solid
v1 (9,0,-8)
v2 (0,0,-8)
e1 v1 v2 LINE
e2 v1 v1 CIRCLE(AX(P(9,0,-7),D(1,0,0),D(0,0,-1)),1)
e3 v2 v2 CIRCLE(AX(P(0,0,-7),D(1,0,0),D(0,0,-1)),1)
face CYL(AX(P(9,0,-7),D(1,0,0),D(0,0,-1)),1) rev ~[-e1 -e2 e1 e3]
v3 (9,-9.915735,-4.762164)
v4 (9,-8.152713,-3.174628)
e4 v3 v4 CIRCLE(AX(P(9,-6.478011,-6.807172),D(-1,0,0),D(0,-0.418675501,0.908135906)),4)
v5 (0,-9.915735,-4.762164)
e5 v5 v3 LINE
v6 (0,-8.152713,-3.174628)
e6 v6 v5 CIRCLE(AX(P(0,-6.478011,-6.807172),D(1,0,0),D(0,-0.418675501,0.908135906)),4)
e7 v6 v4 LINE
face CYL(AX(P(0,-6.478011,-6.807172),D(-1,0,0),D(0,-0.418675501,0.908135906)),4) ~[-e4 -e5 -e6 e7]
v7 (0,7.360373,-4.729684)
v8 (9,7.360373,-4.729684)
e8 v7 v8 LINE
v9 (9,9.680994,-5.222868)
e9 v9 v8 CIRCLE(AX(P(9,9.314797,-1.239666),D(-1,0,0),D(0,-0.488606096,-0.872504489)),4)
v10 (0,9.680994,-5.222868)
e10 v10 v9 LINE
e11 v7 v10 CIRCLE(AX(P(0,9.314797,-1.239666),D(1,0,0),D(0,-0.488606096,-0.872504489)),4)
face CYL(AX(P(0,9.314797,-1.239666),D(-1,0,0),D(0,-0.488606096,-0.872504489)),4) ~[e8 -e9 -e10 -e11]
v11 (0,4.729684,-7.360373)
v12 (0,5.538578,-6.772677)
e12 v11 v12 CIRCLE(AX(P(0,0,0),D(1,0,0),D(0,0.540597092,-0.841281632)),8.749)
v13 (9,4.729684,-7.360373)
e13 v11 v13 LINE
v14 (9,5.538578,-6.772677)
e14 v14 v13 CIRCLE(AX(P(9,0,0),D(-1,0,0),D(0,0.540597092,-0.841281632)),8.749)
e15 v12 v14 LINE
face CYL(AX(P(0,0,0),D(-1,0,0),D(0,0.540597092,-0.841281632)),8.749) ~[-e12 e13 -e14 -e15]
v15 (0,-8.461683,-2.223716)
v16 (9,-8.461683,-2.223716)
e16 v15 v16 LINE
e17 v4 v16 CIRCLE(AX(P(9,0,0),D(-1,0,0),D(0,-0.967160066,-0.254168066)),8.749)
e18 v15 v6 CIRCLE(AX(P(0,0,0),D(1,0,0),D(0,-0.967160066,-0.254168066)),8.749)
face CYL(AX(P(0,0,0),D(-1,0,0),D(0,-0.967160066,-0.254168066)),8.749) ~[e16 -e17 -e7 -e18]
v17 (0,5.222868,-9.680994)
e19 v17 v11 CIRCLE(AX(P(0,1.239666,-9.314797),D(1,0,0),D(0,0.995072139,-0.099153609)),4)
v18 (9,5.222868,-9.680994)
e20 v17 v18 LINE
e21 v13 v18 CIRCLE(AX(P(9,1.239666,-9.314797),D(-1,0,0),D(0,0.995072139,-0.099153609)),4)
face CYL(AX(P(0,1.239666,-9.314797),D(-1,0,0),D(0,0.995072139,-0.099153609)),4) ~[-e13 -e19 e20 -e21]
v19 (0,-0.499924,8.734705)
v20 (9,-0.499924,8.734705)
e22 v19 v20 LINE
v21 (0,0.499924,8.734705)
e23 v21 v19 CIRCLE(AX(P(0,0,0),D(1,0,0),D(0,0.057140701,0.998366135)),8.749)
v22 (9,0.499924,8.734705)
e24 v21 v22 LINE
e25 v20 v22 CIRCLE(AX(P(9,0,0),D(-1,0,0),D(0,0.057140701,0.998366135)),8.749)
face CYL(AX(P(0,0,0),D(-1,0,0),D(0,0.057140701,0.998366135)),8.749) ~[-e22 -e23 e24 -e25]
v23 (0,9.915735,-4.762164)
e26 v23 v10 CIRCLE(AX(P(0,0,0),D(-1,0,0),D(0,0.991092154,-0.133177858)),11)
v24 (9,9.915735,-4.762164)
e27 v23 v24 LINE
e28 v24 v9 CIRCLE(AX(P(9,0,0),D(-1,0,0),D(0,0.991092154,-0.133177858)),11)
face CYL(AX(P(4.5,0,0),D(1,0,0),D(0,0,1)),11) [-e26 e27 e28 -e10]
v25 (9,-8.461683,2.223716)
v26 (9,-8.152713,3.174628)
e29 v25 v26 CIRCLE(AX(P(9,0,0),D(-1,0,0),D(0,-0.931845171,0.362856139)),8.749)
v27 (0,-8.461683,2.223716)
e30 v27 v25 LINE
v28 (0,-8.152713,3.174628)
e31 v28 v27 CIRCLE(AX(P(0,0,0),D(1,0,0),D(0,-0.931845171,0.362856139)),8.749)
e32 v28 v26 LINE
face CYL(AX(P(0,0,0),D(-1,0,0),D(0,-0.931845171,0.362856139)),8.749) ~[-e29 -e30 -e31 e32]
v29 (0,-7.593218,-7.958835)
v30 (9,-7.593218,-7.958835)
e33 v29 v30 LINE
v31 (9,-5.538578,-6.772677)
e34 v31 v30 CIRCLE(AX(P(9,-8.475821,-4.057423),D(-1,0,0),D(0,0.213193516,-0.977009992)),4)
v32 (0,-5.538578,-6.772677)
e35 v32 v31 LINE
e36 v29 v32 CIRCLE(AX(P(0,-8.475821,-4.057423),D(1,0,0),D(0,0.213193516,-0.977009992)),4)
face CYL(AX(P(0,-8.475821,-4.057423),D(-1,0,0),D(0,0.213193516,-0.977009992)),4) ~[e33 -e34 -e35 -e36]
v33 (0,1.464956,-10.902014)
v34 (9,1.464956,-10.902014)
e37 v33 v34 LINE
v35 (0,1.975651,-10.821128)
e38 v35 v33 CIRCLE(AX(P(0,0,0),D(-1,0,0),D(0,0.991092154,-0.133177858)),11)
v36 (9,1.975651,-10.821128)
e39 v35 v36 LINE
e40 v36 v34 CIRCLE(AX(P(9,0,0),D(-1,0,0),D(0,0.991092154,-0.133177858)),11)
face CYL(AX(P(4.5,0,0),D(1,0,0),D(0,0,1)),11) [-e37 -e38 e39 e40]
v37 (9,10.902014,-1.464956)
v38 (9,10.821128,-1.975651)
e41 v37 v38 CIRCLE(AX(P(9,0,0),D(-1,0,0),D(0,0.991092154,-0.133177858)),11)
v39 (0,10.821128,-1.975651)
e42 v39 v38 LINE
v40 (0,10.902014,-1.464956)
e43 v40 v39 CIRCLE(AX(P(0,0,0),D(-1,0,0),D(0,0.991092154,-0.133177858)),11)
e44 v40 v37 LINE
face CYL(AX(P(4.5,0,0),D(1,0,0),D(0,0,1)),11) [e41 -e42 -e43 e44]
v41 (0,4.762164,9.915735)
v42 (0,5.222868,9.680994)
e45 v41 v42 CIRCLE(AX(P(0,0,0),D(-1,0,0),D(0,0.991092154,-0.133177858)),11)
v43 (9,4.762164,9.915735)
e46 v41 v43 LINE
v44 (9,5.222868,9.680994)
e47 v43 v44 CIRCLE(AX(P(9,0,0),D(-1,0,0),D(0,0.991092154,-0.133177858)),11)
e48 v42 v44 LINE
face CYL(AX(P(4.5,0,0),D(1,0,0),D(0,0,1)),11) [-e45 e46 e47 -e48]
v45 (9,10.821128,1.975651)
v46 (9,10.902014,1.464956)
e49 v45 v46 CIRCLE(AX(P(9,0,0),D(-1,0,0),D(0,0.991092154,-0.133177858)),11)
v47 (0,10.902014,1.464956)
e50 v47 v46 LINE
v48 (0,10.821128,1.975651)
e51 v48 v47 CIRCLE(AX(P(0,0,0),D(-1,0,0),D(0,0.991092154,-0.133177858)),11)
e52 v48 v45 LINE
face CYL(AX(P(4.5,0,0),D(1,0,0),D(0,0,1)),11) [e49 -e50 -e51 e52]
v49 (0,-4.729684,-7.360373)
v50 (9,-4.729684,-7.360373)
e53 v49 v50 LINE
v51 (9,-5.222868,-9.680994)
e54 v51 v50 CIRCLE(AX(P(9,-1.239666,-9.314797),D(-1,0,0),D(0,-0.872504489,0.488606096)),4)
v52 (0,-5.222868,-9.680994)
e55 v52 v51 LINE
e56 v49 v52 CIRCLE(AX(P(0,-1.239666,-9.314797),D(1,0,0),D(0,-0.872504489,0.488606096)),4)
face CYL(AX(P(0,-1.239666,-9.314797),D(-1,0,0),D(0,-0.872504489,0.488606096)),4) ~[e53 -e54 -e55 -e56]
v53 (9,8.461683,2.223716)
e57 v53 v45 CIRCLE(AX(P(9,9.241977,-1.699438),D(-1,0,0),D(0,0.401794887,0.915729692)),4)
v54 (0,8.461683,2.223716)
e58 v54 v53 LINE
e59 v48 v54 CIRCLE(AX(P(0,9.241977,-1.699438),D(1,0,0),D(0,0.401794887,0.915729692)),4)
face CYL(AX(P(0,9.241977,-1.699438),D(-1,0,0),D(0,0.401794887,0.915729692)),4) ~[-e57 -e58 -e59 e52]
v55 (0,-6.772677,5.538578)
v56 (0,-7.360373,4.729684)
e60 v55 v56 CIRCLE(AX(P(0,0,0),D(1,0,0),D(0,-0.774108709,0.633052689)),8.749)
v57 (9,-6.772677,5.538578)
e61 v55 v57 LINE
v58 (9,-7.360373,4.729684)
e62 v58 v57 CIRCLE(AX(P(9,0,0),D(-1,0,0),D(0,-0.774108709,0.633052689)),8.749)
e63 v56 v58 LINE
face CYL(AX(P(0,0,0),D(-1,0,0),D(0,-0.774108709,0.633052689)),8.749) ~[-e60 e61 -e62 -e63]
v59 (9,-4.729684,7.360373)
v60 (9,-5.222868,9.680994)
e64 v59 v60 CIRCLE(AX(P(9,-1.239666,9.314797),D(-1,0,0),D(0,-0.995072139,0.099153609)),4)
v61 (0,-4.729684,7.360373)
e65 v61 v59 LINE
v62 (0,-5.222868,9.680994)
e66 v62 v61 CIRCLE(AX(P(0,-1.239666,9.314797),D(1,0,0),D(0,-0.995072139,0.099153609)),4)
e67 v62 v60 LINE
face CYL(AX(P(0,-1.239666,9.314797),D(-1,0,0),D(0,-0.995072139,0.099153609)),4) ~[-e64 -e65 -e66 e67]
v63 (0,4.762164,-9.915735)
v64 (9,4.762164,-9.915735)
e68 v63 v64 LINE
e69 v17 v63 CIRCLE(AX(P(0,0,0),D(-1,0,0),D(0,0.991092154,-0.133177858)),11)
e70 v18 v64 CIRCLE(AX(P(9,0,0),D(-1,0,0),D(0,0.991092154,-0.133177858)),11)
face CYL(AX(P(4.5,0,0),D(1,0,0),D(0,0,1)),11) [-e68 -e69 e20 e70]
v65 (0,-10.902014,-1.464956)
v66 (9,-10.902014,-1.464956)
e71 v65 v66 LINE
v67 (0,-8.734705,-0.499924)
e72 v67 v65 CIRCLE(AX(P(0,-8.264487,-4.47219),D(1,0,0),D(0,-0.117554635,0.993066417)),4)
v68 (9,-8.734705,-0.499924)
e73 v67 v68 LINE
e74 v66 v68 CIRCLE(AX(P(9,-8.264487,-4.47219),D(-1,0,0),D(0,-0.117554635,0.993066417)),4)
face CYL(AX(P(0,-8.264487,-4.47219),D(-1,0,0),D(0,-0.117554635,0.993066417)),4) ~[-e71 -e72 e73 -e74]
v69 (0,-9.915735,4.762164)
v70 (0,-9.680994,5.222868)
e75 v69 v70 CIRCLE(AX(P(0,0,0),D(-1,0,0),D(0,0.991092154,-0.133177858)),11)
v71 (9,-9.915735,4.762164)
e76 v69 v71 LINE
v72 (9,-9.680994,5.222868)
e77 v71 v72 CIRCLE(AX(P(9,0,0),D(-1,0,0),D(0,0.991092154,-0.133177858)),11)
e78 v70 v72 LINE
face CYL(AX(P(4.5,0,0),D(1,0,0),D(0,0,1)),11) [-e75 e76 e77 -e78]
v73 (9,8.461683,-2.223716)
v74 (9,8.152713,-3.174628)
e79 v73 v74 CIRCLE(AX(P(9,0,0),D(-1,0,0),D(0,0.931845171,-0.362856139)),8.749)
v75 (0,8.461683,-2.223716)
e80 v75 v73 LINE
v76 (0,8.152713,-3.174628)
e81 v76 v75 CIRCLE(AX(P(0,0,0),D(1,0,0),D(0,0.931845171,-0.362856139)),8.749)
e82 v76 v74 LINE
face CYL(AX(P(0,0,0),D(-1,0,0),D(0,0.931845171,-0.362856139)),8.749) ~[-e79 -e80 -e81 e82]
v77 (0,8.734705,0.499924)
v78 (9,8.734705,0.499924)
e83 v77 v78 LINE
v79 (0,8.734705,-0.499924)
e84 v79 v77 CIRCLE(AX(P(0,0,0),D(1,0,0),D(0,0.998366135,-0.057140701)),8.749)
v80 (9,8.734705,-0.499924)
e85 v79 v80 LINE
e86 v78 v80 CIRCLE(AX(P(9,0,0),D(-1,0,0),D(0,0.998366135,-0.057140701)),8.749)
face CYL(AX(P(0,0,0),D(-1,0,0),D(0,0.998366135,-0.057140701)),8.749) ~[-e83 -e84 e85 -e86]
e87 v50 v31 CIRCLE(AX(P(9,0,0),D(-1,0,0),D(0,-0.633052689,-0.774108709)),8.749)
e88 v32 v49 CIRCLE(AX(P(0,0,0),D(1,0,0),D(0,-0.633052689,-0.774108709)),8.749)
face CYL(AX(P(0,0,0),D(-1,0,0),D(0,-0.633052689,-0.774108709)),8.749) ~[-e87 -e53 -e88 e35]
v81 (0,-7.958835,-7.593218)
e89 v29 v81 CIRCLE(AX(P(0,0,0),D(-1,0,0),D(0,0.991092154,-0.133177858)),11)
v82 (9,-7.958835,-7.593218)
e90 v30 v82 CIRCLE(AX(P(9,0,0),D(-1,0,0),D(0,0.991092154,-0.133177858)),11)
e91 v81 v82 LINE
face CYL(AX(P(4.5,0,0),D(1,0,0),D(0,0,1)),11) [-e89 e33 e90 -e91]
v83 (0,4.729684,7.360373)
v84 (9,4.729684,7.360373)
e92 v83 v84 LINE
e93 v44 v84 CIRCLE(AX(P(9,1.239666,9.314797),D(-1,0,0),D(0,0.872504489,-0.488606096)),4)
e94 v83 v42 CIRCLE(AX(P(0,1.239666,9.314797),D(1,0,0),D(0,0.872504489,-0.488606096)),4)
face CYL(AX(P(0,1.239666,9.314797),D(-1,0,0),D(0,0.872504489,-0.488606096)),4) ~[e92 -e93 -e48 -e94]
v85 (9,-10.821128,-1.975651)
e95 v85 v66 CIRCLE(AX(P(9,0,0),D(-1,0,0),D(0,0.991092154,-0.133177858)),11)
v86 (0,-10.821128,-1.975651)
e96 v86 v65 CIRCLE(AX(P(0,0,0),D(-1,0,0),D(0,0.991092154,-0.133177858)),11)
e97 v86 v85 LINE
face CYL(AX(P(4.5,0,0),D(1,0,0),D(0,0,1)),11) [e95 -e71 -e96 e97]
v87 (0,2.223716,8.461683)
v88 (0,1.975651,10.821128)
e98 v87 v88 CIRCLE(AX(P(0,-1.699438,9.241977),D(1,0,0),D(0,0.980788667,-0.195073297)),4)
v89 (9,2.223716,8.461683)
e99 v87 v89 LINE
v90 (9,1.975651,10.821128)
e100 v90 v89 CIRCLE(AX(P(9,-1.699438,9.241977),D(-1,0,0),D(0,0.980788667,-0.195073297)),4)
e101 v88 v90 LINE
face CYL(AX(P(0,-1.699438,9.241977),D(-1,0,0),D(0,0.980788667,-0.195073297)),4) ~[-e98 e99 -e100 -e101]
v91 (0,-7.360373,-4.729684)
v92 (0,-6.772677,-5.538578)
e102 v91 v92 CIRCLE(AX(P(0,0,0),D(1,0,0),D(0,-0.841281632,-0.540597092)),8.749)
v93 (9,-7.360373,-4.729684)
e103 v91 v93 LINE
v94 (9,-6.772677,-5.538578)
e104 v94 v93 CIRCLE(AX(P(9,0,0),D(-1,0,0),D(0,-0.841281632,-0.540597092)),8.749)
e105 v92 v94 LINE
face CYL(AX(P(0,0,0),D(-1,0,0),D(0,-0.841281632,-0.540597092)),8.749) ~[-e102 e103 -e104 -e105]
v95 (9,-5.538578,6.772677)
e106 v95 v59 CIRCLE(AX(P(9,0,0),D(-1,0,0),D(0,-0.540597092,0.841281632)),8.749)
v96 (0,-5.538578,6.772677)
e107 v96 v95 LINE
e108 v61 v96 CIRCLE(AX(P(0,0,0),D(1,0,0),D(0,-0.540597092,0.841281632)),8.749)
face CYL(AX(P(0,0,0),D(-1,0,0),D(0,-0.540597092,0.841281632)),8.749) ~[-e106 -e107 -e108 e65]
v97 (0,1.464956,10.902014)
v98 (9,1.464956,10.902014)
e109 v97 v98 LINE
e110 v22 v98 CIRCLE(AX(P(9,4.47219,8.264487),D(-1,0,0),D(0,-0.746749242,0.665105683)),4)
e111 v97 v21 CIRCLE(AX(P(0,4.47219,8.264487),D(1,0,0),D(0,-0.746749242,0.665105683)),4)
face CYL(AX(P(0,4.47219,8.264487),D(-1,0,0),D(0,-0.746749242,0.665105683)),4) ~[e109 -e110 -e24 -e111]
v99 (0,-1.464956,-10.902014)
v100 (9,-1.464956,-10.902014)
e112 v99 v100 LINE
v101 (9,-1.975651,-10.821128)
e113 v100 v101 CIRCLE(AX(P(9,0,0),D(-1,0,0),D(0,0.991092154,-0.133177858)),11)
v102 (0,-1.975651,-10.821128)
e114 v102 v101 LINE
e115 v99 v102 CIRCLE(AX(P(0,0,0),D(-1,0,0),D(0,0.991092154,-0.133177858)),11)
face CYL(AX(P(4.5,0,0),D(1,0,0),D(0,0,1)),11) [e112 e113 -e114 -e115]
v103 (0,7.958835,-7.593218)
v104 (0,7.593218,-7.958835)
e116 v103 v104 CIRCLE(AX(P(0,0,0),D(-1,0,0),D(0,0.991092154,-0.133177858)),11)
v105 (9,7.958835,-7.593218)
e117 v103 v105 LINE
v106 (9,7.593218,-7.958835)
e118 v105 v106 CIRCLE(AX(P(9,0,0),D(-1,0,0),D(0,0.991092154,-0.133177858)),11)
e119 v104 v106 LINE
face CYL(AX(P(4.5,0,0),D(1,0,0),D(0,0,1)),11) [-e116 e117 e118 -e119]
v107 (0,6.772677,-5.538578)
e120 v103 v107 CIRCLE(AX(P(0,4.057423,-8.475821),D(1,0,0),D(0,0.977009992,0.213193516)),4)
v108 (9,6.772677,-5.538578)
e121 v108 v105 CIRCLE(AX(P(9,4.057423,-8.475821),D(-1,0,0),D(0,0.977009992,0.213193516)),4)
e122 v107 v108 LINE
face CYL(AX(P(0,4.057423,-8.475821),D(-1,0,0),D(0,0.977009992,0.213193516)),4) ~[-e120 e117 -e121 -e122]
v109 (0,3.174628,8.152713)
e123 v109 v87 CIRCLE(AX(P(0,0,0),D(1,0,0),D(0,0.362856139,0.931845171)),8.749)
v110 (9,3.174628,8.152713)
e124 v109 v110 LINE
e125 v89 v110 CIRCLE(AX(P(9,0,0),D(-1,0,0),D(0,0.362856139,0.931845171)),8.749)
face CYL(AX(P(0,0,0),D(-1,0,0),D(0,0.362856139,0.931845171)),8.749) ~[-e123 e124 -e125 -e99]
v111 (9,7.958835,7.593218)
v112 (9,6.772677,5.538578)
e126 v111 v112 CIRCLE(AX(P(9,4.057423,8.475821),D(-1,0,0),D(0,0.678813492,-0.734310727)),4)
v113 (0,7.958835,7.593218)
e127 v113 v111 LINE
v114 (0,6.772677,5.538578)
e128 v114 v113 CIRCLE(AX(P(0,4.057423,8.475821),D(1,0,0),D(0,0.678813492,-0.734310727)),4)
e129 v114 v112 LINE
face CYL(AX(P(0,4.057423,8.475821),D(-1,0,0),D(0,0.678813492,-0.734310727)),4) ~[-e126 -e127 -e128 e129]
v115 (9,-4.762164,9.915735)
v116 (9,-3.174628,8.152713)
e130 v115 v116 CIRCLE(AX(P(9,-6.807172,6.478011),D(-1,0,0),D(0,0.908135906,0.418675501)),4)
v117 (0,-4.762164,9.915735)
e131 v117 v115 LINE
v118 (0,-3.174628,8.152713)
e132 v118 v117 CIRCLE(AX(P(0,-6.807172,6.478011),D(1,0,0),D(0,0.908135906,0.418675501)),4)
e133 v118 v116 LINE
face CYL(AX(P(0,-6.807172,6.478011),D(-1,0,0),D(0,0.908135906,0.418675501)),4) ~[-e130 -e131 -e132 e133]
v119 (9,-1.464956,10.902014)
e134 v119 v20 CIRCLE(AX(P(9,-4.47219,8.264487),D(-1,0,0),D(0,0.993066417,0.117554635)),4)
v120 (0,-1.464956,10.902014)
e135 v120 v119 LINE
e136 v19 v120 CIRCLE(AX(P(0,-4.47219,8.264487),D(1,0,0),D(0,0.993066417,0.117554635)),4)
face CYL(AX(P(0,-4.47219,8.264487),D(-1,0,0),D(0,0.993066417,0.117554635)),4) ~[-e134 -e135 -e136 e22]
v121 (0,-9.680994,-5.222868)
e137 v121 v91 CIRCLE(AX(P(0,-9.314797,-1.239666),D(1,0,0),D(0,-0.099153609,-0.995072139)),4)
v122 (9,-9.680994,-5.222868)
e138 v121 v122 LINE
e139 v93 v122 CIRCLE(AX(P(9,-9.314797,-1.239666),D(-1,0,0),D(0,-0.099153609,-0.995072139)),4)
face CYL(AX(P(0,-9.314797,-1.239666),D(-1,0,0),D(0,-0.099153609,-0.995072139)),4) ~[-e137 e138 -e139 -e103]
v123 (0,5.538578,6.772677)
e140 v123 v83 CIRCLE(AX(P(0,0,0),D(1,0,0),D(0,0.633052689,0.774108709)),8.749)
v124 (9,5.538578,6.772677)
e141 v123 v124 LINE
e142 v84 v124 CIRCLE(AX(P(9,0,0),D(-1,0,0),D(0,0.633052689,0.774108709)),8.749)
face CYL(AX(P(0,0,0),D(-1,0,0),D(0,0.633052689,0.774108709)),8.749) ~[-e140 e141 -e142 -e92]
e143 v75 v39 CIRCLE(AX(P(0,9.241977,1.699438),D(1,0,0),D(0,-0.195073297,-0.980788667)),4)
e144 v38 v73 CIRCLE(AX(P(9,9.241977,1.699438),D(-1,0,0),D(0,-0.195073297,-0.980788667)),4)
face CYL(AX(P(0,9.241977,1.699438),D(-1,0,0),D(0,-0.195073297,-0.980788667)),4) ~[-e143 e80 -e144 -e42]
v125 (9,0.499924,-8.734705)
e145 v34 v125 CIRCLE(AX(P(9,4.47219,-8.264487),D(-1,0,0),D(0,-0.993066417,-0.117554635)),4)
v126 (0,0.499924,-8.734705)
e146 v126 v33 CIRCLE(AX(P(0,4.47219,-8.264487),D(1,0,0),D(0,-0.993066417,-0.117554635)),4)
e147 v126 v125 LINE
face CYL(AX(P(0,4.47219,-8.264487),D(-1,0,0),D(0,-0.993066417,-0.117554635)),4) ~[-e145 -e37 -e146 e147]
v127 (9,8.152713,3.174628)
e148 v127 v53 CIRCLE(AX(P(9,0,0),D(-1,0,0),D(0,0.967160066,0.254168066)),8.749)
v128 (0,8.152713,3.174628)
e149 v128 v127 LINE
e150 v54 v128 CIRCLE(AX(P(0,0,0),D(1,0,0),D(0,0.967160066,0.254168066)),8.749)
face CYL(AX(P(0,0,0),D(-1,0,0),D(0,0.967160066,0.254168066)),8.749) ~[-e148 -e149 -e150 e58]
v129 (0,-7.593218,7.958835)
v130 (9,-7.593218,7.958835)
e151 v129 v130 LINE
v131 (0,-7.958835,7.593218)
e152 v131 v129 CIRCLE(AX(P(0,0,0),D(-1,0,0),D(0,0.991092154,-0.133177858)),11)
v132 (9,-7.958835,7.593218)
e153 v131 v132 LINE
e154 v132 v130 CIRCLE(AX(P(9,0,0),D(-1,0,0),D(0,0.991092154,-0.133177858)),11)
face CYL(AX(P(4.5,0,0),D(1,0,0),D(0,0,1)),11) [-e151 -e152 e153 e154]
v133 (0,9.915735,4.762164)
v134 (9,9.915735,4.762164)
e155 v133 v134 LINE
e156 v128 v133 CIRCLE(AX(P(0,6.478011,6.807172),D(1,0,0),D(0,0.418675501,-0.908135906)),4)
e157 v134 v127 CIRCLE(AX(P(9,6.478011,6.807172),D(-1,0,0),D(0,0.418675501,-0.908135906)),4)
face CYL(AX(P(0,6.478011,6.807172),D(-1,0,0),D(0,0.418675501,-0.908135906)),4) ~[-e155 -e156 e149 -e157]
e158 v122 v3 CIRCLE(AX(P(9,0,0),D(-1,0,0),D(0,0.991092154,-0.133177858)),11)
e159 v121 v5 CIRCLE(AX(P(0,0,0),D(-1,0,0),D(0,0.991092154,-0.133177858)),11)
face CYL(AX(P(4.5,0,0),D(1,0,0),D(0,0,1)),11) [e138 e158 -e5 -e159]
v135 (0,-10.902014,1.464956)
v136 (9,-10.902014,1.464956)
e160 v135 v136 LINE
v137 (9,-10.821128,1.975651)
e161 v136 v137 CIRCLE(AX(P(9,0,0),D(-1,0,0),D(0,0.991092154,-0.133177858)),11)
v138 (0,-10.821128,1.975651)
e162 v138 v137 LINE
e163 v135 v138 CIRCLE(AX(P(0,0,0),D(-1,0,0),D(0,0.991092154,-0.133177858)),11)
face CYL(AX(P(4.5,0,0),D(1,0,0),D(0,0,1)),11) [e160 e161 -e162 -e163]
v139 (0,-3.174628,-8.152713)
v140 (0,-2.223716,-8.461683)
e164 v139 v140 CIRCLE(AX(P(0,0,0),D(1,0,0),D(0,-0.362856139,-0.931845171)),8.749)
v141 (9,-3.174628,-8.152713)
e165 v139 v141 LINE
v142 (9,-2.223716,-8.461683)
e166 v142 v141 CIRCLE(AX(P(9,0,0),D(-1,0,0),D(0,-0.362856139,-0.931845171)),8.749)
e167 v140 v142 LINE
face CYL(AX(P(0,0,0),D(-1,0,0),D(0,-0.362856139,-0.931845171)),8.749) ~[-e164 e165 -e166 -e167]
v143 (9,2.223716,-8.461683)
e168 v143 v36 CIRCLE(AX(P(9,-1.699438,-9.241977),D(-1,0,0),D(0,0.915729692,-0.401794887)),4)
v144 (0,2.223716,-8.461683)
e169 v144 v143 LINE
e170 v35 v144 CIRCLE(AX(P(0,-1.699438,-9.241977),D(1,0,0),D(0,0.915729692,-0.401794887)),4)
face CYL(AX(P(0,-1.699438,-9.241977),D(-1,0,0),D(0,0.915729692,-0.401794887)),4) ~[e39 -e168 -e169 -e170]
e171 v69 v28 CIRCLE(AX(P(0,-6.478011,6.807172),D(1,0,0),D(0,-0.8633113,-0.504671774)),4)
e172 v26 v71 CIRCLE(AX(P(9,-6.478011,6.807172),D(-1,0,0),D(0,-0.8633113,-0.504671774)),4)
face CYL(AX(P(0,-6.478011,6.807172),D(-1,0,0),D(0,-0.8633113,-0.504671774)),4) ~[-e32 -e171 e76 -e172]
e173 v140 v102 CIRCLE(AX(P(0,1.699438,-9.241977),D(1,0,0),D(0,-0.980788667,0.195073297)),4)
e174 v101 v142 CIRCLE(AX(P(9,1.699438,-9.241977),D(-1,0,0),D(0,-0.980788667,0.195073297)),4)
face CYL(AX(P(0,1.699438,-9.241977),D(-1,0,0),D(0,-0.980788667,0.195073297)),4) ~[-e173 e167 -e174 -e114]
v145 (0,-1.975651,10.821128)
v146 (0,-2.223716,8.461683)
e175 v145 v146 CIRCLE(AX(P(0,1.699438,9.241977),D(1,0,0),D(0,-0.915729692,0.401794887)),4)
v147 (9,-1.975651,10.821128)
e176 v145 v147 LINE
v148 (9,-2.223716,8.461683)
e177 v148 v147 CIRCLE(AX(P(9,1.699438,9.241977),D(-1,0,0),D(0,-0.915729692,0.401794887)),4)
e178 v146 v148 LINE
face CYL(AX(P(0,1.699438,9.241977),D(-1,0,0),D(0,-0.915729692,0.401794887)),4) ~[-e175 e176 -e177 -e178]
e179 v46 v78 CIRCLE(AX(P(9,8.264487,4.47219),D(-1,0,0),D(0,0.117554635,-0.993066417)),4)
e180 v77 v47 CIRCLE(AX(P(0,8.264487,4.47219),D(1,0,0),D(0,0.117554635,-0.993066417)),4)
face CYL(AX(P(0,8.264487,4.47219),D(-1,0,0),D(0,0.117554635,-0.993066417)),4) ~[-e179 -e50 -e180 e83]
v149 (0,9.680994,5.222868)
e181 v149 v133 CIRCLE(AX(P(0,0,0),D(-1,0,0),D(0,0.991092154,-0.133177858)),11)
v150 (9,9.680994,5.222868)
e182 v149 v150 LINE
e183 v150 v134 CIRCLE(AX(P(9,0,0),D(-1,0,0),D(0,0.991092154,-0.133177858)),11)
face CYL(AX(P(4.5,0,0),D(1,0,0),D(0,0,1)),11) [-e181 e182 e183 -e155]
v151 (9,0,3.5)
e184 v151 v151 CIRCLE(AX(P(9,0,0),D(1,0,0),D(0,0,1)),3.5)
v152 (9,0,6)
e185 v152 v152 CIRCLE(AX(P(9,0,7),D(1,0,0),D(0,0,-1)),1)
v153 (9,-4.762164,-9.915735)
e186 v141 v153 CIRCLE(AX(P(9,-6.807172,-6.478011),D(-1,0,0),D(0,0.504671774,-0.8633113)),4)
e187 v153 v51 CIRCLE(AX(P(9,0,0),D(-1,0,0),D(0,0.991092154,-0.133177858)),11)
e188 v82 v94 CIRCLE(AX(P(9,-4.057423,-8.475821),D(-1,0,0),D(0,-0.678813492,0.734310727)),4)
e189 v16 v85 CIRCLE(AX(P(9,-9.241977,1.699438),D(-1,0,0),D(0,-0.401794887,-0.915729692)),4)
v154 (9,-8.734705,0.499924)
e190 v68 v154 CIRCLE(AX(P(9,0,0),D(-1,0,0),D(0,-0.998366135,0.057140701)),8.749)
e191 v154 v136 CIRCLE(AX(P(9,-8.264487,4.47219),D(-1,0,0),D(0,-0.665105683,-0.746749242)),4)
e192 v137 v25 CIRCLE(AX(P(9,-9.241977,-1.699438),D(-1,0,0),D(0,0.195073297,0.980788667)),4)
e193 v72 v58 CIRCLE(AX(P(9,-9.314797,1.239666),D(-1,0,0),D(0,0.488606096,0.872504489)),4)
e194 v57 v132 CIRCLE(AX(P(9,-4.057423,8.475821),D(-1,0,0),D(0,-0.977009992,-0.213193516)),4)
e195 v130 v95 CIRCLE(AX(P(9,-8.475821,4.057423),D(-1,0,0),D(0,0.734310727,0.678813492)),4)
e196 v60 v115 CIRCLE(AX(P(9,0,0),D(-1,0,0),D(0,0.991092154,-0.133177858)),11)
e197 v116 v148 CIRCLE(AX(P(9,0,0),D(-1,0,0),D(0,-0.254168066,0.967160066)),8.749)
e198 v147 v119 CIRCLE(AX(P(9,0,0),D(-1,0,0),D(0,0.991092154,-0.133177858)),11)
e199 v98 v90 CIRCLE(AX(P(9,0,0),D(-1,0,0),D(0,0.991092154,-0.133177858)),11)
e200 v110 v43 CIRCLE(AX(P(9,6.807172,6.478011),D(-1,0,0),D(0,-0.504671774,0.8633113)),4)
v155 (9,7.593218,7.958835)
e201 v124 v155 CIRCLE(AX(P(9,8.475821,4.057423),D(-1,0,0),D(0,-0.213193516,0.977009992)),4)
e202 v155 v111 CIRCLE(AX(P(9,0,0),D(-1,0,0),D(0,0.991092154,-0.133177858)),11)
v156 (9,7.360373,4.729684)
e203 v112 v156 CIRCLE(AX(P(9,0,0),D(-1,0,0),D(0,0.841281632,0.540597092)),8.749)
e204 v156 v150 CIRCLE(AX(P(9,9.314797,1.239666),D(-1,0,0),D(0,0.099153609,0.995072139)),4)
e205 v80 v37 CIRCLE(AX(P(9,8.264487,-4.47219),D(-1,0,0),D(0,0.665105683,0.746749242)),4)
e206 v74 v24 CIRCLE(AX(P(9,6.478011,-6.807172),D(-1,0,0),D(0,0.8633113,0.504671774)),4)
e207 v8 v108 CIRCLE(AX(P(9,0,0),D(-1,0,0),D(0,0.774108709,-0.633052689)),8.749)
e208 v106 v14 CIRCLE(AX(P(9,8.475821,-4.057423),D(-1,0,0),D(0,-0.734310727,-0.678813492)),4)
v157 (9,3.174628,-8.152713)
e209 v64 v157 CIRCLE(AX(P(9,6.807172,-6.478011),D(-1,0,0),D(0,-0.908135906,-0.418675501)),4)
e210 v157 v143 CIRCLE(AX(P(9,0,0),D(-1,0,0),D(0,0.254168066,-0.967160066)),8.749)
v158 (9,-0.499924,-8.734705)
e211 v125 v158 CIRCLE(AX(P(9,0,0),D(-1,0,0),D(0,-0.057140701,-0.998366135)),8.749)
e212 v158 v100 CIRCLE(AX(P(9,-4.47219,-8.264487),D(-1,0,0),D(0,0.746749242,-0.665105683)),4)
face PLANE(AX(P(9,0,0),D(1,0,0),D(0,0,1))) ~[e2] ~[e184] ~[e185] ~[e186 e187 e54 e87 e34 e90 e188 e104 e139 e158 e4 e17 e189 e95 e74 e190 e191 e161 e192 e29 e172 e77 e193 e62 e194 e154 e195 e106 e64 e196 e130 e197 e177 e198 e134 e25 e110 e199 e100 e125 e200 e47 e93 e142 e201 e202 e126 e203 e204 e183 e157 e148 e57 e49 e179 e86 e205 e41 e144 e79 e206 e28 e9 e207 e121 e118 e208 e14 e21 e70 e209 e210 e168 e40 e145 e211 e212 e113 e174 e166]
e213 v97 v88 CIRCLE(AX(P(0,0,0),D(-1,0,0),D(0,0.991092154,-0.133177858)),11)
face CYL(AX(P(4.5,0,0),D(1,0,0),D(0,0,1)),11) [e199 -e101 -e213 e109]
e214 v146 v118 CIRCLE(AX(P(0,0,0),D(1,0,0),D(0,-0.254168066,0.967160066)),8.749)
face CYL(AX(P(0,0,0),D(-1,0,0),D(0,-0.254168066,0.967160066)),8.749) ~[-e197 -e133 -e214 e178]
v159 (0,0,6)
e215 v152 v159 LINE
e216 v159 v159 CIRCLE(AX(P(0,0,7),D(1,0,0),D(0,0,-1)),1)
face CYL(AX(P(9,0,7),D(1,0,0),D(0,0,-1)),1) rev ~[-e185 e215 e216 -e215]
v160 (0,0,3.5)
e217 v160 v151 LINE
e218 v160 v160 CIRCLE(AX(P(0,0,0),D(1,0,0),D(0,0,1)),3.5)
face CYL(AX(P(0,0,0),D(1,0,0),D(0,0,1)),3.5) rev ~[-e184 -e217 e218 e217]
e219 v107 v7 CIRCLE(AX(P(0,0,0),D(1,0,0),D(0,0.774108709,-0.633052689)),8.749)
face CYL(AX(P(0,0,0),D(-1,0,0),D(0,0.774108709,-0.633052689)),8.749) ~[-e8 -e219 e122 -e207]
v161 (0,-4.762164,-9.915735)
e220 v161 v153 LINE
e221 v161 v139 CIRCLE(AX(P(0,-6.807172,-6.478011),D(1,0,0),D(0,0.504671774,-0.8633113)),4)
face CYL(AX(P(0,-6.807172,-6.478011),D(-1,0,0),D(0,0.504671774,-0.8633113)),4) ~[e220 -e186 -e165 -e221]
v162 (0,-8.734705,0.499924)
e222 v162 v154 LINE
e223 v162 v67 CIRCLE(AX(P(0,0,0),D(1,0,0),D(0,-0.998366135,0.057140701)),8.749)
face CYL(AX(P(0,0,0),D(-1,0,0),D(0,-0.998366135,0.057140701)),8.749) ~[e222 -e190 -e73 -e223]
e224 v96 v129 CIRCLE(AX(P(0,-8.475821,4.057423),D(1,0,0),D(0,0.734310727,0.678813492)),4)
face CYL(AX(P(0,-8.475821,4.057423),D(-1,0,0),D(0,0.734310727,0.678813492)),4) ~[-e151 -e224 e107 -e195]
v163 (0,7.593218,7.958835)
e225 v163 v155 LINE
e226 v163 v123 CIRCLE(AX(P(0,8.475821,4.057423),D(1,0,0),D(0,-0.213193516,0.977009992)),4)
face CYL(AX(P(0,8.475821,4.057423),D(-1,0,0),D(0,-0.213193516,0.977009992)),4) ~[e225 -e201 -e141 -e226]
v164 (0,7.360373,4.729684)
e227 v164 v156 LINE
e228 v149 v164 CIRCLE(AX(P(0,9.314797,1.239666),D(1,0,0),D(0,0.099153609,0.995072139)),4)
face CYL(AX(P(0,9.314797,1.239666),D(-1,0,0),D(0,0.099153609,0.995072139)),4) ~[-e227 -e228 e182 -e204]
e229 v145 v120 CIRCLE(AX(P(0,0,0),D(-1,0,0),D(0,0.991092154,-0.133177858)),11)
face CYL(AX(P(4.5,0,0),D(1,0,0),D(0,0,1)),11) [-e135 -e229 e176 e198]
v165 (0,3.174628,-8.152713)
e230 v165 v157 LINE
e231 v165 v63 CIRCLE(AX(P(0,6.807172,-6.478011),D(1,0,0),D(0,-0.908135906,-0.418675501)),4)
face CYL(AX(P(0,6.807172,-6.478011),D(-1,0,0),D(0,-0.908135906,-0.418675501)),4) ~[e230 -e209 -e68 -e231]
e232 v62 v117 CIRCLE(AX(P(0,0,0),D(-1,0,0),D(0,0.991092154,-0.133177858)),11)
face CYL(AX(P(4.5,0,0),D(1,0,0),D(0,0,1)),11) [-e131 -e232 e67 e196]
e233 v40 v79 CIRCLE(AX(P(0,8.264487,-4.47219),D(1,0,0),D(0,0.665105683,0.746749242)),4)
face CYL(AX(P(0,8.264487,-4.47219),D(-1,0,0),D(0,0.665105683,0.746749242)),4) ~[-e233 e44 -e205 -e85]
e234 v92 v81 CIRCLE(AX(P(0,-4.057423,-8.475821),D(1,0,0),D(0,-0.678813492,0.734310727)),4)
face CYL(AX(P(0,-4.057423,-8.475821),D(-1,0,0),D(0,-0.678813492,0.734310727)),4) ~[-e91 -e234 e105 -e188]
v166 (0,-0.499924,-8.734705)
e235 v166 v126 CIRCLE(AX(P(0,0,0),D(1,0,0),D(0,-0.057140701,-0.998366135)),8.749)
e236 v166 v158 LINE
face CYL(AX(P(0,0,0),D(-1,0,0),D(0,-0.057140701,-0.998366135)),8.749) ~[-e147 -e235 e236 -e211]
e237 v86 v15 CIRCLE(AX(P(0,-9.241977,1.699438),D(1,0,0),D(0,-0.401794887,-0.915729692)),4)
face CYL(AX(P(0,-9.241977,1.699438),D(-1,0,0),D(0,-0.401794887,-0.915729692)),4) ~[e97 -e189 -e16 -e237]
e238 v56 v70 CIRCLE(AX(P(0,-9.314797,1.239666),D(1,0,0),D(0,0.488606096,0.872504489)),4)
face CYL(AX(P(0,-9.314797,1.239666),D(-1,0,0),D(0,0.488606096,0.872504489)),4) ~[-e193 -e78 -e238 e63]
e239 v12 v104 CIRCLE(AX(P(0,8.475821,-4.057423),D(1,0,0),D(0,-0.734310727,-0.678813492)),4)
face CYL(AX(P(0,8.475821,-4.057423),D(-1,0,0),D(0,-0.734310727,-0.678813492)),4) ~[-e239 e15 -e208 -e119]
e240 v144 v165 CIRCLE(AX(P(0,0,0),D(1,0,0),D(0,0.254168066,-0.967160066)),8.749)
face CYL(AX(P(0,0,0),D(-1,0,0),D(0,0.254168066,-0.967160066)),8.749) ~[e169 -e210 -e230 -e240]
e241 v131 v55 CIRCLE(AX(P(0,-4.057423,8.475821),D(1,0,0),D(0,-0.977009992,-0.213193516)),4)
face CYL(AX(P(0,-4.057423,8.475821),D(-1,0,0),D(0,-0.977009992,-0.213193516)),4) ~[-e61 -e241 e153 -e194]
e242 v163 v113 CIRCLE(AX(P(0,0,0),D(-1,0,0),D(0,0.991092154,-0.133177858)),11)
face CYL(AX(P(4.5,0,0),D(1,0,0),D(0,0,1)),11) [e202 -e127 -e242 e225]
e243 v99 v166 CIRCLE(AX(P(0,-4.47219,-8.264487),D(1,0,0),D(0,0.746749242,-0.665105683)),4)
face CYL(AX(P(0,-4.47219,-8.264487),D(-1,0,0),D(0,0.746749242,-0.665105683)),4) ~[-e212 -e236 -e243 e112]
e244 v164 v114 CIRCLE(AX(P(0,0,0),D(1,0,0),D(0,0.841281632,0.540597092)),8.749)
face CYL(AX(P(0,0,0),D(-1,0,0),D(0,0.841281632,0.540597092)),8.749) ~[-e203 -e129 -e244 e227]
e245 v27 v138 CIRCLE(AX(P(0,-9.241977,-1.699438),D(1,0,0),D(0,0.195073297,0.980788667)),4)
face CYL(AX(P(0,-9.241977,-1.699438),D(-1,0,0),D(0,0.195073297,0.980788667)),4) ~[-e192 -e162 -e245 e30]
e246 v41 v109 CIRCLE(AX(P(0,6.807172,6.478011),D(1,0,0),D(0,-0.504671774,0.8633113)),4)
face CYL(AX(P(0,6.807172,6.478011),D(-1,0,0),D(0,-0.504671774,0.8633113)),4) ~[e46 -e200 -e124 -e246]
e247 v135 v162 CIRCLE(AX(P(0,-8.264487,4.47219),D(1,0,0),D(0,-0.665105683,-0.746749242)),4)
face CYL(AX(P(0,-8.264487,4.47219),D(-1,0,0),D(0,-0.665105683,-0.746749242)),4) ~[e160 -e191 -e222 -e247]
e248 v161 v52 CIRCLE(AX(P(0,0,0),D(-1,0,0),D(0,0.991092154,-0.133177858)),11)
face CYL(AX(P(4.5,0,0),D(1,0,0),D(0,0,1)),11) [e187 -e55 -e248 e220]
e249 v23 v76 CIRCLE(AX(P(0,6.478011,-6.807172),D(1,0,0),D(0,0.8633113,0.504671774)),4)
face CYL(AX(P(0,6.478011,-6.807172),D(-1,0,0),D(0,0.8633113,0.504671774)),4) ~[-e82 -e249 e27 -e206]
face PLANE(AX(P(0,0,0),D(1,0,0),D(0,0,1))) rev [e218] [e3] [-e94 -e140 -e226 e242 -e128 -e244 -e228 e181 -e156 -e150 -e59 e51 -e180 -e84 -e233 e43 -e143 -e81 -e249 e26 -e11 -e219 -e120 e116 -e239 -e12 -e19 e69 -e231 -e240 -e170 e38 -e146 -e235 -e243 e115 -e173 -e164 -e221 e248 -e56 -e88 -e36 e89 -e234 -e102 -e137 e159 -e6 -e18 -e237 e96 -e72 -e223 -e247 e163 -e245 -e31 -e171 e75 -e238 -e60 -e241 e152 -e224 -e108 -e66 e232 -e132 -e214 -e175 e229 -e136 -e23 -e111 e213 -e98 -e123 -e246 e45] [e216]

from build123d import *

# Parameters (mm, degrees)
BASPROSKE_W        = 9
BASPROSKE_H        = 11
TOOTHCUT_DEPTH     = 18.972200756
TEETHCUTS_COUNT    = 20
TEETHCUTS_ANGLE    = 342
BORSKE_R           = 3.5
BORE_DEPTH         = 50.0000508
SKETCH1_R          = 1
CUT_EXTRUDE1_DEPTH = 18.852389344


with BuildPart() as part:
    # BasProSke → Base-Revolve (revolve)
    with BuildSketch(Plane(origin=(0, 0, 0), x_dir=(1, 0, 0), z_dir=(0, 1, 0)), mode=Mode.PRIVATE) as base_revolve_sk:
        with Locations((4.5, 5.5)):
            Rectangle(BASPROSKE_W, BASPROSKE_H)
    revolve(base_revolve_sk.sketch.rotate(Axis((-10, 0, 0), (1, 0, 0)), 180), axis=Axis((-10, 0, 0), (1, 0, 0)))

    # TooCutSke → ToothCut (cut, through all)
    with BuildSketch(Plane(origin=(0, 0, 0), x_dir=(0, 0, -1), z_dir=(1, 0, 0))):
        with BuildLine():
            ThreePointArc((0.499924007, 8.734705318), (0, 8.749), (-0.499924007, 8.734705318))
            ThreePointArc((-0.499924007, 8.734705318), (-0.824302243, 9.905497836), (-1.485192705, 10.924909509))
            ThreePointArc((-1.485192705, 10.924909509), (0, 11.0254), (1.485192705, 10.924909509))
            ThreePointArc((1.485192705, 10.924909509), (0.824302243, 9.905497836), (0.499924007, 8.734705318))
        make_face()
    toothcut = extrude(amount=TOOTHCUT_DEPTH, mode=Mode.SUBTRACT)

    # TeethCuts: ToothCut ×20 about axis
    teethcuts_axis = Axis((-10, 0, 0), (1, 0, 0))
    for i in range(1, TEETHCUTS_COUNT):
        add(toothcut.rotate(teethcuts_axis, i * TEETHCUTS_ANGLE / (TEETHCUTS_COUNT - 1)), mode=Mode.SUBTRACT)

    # BorSke → Bore (cut, symmetric)
    with BuildSketch(Plane(origin=(0, 0, 0), x_dir=(0, 0, -1), z_dir=(1, 0, 0))):
        with Locations(Location((0, 0, 0), (0, 0, 180))):
            Circle(BORSKE_R)
    extrude(amount=BORE_DEPTH, both=True, mode=Mode.SUBTRACT)

    # Sketch1 → Cut-Extrude1 (cut, through all)
    with BuildSketch(Plane(origin=(9, 0, 0), x_dir=(0, 0, -1), z_dir=(1, 0, 0))):
        with Locations((-7, 0)):
            Circle(SKETCH1_R)
        with Locations((7, 0)):
            Circle(SKETCH1_R)
    extrude(amount=-CUT_EXTRUDE1_DEPTH, mode=Mode.SUBTRACT)


solid = part.part
